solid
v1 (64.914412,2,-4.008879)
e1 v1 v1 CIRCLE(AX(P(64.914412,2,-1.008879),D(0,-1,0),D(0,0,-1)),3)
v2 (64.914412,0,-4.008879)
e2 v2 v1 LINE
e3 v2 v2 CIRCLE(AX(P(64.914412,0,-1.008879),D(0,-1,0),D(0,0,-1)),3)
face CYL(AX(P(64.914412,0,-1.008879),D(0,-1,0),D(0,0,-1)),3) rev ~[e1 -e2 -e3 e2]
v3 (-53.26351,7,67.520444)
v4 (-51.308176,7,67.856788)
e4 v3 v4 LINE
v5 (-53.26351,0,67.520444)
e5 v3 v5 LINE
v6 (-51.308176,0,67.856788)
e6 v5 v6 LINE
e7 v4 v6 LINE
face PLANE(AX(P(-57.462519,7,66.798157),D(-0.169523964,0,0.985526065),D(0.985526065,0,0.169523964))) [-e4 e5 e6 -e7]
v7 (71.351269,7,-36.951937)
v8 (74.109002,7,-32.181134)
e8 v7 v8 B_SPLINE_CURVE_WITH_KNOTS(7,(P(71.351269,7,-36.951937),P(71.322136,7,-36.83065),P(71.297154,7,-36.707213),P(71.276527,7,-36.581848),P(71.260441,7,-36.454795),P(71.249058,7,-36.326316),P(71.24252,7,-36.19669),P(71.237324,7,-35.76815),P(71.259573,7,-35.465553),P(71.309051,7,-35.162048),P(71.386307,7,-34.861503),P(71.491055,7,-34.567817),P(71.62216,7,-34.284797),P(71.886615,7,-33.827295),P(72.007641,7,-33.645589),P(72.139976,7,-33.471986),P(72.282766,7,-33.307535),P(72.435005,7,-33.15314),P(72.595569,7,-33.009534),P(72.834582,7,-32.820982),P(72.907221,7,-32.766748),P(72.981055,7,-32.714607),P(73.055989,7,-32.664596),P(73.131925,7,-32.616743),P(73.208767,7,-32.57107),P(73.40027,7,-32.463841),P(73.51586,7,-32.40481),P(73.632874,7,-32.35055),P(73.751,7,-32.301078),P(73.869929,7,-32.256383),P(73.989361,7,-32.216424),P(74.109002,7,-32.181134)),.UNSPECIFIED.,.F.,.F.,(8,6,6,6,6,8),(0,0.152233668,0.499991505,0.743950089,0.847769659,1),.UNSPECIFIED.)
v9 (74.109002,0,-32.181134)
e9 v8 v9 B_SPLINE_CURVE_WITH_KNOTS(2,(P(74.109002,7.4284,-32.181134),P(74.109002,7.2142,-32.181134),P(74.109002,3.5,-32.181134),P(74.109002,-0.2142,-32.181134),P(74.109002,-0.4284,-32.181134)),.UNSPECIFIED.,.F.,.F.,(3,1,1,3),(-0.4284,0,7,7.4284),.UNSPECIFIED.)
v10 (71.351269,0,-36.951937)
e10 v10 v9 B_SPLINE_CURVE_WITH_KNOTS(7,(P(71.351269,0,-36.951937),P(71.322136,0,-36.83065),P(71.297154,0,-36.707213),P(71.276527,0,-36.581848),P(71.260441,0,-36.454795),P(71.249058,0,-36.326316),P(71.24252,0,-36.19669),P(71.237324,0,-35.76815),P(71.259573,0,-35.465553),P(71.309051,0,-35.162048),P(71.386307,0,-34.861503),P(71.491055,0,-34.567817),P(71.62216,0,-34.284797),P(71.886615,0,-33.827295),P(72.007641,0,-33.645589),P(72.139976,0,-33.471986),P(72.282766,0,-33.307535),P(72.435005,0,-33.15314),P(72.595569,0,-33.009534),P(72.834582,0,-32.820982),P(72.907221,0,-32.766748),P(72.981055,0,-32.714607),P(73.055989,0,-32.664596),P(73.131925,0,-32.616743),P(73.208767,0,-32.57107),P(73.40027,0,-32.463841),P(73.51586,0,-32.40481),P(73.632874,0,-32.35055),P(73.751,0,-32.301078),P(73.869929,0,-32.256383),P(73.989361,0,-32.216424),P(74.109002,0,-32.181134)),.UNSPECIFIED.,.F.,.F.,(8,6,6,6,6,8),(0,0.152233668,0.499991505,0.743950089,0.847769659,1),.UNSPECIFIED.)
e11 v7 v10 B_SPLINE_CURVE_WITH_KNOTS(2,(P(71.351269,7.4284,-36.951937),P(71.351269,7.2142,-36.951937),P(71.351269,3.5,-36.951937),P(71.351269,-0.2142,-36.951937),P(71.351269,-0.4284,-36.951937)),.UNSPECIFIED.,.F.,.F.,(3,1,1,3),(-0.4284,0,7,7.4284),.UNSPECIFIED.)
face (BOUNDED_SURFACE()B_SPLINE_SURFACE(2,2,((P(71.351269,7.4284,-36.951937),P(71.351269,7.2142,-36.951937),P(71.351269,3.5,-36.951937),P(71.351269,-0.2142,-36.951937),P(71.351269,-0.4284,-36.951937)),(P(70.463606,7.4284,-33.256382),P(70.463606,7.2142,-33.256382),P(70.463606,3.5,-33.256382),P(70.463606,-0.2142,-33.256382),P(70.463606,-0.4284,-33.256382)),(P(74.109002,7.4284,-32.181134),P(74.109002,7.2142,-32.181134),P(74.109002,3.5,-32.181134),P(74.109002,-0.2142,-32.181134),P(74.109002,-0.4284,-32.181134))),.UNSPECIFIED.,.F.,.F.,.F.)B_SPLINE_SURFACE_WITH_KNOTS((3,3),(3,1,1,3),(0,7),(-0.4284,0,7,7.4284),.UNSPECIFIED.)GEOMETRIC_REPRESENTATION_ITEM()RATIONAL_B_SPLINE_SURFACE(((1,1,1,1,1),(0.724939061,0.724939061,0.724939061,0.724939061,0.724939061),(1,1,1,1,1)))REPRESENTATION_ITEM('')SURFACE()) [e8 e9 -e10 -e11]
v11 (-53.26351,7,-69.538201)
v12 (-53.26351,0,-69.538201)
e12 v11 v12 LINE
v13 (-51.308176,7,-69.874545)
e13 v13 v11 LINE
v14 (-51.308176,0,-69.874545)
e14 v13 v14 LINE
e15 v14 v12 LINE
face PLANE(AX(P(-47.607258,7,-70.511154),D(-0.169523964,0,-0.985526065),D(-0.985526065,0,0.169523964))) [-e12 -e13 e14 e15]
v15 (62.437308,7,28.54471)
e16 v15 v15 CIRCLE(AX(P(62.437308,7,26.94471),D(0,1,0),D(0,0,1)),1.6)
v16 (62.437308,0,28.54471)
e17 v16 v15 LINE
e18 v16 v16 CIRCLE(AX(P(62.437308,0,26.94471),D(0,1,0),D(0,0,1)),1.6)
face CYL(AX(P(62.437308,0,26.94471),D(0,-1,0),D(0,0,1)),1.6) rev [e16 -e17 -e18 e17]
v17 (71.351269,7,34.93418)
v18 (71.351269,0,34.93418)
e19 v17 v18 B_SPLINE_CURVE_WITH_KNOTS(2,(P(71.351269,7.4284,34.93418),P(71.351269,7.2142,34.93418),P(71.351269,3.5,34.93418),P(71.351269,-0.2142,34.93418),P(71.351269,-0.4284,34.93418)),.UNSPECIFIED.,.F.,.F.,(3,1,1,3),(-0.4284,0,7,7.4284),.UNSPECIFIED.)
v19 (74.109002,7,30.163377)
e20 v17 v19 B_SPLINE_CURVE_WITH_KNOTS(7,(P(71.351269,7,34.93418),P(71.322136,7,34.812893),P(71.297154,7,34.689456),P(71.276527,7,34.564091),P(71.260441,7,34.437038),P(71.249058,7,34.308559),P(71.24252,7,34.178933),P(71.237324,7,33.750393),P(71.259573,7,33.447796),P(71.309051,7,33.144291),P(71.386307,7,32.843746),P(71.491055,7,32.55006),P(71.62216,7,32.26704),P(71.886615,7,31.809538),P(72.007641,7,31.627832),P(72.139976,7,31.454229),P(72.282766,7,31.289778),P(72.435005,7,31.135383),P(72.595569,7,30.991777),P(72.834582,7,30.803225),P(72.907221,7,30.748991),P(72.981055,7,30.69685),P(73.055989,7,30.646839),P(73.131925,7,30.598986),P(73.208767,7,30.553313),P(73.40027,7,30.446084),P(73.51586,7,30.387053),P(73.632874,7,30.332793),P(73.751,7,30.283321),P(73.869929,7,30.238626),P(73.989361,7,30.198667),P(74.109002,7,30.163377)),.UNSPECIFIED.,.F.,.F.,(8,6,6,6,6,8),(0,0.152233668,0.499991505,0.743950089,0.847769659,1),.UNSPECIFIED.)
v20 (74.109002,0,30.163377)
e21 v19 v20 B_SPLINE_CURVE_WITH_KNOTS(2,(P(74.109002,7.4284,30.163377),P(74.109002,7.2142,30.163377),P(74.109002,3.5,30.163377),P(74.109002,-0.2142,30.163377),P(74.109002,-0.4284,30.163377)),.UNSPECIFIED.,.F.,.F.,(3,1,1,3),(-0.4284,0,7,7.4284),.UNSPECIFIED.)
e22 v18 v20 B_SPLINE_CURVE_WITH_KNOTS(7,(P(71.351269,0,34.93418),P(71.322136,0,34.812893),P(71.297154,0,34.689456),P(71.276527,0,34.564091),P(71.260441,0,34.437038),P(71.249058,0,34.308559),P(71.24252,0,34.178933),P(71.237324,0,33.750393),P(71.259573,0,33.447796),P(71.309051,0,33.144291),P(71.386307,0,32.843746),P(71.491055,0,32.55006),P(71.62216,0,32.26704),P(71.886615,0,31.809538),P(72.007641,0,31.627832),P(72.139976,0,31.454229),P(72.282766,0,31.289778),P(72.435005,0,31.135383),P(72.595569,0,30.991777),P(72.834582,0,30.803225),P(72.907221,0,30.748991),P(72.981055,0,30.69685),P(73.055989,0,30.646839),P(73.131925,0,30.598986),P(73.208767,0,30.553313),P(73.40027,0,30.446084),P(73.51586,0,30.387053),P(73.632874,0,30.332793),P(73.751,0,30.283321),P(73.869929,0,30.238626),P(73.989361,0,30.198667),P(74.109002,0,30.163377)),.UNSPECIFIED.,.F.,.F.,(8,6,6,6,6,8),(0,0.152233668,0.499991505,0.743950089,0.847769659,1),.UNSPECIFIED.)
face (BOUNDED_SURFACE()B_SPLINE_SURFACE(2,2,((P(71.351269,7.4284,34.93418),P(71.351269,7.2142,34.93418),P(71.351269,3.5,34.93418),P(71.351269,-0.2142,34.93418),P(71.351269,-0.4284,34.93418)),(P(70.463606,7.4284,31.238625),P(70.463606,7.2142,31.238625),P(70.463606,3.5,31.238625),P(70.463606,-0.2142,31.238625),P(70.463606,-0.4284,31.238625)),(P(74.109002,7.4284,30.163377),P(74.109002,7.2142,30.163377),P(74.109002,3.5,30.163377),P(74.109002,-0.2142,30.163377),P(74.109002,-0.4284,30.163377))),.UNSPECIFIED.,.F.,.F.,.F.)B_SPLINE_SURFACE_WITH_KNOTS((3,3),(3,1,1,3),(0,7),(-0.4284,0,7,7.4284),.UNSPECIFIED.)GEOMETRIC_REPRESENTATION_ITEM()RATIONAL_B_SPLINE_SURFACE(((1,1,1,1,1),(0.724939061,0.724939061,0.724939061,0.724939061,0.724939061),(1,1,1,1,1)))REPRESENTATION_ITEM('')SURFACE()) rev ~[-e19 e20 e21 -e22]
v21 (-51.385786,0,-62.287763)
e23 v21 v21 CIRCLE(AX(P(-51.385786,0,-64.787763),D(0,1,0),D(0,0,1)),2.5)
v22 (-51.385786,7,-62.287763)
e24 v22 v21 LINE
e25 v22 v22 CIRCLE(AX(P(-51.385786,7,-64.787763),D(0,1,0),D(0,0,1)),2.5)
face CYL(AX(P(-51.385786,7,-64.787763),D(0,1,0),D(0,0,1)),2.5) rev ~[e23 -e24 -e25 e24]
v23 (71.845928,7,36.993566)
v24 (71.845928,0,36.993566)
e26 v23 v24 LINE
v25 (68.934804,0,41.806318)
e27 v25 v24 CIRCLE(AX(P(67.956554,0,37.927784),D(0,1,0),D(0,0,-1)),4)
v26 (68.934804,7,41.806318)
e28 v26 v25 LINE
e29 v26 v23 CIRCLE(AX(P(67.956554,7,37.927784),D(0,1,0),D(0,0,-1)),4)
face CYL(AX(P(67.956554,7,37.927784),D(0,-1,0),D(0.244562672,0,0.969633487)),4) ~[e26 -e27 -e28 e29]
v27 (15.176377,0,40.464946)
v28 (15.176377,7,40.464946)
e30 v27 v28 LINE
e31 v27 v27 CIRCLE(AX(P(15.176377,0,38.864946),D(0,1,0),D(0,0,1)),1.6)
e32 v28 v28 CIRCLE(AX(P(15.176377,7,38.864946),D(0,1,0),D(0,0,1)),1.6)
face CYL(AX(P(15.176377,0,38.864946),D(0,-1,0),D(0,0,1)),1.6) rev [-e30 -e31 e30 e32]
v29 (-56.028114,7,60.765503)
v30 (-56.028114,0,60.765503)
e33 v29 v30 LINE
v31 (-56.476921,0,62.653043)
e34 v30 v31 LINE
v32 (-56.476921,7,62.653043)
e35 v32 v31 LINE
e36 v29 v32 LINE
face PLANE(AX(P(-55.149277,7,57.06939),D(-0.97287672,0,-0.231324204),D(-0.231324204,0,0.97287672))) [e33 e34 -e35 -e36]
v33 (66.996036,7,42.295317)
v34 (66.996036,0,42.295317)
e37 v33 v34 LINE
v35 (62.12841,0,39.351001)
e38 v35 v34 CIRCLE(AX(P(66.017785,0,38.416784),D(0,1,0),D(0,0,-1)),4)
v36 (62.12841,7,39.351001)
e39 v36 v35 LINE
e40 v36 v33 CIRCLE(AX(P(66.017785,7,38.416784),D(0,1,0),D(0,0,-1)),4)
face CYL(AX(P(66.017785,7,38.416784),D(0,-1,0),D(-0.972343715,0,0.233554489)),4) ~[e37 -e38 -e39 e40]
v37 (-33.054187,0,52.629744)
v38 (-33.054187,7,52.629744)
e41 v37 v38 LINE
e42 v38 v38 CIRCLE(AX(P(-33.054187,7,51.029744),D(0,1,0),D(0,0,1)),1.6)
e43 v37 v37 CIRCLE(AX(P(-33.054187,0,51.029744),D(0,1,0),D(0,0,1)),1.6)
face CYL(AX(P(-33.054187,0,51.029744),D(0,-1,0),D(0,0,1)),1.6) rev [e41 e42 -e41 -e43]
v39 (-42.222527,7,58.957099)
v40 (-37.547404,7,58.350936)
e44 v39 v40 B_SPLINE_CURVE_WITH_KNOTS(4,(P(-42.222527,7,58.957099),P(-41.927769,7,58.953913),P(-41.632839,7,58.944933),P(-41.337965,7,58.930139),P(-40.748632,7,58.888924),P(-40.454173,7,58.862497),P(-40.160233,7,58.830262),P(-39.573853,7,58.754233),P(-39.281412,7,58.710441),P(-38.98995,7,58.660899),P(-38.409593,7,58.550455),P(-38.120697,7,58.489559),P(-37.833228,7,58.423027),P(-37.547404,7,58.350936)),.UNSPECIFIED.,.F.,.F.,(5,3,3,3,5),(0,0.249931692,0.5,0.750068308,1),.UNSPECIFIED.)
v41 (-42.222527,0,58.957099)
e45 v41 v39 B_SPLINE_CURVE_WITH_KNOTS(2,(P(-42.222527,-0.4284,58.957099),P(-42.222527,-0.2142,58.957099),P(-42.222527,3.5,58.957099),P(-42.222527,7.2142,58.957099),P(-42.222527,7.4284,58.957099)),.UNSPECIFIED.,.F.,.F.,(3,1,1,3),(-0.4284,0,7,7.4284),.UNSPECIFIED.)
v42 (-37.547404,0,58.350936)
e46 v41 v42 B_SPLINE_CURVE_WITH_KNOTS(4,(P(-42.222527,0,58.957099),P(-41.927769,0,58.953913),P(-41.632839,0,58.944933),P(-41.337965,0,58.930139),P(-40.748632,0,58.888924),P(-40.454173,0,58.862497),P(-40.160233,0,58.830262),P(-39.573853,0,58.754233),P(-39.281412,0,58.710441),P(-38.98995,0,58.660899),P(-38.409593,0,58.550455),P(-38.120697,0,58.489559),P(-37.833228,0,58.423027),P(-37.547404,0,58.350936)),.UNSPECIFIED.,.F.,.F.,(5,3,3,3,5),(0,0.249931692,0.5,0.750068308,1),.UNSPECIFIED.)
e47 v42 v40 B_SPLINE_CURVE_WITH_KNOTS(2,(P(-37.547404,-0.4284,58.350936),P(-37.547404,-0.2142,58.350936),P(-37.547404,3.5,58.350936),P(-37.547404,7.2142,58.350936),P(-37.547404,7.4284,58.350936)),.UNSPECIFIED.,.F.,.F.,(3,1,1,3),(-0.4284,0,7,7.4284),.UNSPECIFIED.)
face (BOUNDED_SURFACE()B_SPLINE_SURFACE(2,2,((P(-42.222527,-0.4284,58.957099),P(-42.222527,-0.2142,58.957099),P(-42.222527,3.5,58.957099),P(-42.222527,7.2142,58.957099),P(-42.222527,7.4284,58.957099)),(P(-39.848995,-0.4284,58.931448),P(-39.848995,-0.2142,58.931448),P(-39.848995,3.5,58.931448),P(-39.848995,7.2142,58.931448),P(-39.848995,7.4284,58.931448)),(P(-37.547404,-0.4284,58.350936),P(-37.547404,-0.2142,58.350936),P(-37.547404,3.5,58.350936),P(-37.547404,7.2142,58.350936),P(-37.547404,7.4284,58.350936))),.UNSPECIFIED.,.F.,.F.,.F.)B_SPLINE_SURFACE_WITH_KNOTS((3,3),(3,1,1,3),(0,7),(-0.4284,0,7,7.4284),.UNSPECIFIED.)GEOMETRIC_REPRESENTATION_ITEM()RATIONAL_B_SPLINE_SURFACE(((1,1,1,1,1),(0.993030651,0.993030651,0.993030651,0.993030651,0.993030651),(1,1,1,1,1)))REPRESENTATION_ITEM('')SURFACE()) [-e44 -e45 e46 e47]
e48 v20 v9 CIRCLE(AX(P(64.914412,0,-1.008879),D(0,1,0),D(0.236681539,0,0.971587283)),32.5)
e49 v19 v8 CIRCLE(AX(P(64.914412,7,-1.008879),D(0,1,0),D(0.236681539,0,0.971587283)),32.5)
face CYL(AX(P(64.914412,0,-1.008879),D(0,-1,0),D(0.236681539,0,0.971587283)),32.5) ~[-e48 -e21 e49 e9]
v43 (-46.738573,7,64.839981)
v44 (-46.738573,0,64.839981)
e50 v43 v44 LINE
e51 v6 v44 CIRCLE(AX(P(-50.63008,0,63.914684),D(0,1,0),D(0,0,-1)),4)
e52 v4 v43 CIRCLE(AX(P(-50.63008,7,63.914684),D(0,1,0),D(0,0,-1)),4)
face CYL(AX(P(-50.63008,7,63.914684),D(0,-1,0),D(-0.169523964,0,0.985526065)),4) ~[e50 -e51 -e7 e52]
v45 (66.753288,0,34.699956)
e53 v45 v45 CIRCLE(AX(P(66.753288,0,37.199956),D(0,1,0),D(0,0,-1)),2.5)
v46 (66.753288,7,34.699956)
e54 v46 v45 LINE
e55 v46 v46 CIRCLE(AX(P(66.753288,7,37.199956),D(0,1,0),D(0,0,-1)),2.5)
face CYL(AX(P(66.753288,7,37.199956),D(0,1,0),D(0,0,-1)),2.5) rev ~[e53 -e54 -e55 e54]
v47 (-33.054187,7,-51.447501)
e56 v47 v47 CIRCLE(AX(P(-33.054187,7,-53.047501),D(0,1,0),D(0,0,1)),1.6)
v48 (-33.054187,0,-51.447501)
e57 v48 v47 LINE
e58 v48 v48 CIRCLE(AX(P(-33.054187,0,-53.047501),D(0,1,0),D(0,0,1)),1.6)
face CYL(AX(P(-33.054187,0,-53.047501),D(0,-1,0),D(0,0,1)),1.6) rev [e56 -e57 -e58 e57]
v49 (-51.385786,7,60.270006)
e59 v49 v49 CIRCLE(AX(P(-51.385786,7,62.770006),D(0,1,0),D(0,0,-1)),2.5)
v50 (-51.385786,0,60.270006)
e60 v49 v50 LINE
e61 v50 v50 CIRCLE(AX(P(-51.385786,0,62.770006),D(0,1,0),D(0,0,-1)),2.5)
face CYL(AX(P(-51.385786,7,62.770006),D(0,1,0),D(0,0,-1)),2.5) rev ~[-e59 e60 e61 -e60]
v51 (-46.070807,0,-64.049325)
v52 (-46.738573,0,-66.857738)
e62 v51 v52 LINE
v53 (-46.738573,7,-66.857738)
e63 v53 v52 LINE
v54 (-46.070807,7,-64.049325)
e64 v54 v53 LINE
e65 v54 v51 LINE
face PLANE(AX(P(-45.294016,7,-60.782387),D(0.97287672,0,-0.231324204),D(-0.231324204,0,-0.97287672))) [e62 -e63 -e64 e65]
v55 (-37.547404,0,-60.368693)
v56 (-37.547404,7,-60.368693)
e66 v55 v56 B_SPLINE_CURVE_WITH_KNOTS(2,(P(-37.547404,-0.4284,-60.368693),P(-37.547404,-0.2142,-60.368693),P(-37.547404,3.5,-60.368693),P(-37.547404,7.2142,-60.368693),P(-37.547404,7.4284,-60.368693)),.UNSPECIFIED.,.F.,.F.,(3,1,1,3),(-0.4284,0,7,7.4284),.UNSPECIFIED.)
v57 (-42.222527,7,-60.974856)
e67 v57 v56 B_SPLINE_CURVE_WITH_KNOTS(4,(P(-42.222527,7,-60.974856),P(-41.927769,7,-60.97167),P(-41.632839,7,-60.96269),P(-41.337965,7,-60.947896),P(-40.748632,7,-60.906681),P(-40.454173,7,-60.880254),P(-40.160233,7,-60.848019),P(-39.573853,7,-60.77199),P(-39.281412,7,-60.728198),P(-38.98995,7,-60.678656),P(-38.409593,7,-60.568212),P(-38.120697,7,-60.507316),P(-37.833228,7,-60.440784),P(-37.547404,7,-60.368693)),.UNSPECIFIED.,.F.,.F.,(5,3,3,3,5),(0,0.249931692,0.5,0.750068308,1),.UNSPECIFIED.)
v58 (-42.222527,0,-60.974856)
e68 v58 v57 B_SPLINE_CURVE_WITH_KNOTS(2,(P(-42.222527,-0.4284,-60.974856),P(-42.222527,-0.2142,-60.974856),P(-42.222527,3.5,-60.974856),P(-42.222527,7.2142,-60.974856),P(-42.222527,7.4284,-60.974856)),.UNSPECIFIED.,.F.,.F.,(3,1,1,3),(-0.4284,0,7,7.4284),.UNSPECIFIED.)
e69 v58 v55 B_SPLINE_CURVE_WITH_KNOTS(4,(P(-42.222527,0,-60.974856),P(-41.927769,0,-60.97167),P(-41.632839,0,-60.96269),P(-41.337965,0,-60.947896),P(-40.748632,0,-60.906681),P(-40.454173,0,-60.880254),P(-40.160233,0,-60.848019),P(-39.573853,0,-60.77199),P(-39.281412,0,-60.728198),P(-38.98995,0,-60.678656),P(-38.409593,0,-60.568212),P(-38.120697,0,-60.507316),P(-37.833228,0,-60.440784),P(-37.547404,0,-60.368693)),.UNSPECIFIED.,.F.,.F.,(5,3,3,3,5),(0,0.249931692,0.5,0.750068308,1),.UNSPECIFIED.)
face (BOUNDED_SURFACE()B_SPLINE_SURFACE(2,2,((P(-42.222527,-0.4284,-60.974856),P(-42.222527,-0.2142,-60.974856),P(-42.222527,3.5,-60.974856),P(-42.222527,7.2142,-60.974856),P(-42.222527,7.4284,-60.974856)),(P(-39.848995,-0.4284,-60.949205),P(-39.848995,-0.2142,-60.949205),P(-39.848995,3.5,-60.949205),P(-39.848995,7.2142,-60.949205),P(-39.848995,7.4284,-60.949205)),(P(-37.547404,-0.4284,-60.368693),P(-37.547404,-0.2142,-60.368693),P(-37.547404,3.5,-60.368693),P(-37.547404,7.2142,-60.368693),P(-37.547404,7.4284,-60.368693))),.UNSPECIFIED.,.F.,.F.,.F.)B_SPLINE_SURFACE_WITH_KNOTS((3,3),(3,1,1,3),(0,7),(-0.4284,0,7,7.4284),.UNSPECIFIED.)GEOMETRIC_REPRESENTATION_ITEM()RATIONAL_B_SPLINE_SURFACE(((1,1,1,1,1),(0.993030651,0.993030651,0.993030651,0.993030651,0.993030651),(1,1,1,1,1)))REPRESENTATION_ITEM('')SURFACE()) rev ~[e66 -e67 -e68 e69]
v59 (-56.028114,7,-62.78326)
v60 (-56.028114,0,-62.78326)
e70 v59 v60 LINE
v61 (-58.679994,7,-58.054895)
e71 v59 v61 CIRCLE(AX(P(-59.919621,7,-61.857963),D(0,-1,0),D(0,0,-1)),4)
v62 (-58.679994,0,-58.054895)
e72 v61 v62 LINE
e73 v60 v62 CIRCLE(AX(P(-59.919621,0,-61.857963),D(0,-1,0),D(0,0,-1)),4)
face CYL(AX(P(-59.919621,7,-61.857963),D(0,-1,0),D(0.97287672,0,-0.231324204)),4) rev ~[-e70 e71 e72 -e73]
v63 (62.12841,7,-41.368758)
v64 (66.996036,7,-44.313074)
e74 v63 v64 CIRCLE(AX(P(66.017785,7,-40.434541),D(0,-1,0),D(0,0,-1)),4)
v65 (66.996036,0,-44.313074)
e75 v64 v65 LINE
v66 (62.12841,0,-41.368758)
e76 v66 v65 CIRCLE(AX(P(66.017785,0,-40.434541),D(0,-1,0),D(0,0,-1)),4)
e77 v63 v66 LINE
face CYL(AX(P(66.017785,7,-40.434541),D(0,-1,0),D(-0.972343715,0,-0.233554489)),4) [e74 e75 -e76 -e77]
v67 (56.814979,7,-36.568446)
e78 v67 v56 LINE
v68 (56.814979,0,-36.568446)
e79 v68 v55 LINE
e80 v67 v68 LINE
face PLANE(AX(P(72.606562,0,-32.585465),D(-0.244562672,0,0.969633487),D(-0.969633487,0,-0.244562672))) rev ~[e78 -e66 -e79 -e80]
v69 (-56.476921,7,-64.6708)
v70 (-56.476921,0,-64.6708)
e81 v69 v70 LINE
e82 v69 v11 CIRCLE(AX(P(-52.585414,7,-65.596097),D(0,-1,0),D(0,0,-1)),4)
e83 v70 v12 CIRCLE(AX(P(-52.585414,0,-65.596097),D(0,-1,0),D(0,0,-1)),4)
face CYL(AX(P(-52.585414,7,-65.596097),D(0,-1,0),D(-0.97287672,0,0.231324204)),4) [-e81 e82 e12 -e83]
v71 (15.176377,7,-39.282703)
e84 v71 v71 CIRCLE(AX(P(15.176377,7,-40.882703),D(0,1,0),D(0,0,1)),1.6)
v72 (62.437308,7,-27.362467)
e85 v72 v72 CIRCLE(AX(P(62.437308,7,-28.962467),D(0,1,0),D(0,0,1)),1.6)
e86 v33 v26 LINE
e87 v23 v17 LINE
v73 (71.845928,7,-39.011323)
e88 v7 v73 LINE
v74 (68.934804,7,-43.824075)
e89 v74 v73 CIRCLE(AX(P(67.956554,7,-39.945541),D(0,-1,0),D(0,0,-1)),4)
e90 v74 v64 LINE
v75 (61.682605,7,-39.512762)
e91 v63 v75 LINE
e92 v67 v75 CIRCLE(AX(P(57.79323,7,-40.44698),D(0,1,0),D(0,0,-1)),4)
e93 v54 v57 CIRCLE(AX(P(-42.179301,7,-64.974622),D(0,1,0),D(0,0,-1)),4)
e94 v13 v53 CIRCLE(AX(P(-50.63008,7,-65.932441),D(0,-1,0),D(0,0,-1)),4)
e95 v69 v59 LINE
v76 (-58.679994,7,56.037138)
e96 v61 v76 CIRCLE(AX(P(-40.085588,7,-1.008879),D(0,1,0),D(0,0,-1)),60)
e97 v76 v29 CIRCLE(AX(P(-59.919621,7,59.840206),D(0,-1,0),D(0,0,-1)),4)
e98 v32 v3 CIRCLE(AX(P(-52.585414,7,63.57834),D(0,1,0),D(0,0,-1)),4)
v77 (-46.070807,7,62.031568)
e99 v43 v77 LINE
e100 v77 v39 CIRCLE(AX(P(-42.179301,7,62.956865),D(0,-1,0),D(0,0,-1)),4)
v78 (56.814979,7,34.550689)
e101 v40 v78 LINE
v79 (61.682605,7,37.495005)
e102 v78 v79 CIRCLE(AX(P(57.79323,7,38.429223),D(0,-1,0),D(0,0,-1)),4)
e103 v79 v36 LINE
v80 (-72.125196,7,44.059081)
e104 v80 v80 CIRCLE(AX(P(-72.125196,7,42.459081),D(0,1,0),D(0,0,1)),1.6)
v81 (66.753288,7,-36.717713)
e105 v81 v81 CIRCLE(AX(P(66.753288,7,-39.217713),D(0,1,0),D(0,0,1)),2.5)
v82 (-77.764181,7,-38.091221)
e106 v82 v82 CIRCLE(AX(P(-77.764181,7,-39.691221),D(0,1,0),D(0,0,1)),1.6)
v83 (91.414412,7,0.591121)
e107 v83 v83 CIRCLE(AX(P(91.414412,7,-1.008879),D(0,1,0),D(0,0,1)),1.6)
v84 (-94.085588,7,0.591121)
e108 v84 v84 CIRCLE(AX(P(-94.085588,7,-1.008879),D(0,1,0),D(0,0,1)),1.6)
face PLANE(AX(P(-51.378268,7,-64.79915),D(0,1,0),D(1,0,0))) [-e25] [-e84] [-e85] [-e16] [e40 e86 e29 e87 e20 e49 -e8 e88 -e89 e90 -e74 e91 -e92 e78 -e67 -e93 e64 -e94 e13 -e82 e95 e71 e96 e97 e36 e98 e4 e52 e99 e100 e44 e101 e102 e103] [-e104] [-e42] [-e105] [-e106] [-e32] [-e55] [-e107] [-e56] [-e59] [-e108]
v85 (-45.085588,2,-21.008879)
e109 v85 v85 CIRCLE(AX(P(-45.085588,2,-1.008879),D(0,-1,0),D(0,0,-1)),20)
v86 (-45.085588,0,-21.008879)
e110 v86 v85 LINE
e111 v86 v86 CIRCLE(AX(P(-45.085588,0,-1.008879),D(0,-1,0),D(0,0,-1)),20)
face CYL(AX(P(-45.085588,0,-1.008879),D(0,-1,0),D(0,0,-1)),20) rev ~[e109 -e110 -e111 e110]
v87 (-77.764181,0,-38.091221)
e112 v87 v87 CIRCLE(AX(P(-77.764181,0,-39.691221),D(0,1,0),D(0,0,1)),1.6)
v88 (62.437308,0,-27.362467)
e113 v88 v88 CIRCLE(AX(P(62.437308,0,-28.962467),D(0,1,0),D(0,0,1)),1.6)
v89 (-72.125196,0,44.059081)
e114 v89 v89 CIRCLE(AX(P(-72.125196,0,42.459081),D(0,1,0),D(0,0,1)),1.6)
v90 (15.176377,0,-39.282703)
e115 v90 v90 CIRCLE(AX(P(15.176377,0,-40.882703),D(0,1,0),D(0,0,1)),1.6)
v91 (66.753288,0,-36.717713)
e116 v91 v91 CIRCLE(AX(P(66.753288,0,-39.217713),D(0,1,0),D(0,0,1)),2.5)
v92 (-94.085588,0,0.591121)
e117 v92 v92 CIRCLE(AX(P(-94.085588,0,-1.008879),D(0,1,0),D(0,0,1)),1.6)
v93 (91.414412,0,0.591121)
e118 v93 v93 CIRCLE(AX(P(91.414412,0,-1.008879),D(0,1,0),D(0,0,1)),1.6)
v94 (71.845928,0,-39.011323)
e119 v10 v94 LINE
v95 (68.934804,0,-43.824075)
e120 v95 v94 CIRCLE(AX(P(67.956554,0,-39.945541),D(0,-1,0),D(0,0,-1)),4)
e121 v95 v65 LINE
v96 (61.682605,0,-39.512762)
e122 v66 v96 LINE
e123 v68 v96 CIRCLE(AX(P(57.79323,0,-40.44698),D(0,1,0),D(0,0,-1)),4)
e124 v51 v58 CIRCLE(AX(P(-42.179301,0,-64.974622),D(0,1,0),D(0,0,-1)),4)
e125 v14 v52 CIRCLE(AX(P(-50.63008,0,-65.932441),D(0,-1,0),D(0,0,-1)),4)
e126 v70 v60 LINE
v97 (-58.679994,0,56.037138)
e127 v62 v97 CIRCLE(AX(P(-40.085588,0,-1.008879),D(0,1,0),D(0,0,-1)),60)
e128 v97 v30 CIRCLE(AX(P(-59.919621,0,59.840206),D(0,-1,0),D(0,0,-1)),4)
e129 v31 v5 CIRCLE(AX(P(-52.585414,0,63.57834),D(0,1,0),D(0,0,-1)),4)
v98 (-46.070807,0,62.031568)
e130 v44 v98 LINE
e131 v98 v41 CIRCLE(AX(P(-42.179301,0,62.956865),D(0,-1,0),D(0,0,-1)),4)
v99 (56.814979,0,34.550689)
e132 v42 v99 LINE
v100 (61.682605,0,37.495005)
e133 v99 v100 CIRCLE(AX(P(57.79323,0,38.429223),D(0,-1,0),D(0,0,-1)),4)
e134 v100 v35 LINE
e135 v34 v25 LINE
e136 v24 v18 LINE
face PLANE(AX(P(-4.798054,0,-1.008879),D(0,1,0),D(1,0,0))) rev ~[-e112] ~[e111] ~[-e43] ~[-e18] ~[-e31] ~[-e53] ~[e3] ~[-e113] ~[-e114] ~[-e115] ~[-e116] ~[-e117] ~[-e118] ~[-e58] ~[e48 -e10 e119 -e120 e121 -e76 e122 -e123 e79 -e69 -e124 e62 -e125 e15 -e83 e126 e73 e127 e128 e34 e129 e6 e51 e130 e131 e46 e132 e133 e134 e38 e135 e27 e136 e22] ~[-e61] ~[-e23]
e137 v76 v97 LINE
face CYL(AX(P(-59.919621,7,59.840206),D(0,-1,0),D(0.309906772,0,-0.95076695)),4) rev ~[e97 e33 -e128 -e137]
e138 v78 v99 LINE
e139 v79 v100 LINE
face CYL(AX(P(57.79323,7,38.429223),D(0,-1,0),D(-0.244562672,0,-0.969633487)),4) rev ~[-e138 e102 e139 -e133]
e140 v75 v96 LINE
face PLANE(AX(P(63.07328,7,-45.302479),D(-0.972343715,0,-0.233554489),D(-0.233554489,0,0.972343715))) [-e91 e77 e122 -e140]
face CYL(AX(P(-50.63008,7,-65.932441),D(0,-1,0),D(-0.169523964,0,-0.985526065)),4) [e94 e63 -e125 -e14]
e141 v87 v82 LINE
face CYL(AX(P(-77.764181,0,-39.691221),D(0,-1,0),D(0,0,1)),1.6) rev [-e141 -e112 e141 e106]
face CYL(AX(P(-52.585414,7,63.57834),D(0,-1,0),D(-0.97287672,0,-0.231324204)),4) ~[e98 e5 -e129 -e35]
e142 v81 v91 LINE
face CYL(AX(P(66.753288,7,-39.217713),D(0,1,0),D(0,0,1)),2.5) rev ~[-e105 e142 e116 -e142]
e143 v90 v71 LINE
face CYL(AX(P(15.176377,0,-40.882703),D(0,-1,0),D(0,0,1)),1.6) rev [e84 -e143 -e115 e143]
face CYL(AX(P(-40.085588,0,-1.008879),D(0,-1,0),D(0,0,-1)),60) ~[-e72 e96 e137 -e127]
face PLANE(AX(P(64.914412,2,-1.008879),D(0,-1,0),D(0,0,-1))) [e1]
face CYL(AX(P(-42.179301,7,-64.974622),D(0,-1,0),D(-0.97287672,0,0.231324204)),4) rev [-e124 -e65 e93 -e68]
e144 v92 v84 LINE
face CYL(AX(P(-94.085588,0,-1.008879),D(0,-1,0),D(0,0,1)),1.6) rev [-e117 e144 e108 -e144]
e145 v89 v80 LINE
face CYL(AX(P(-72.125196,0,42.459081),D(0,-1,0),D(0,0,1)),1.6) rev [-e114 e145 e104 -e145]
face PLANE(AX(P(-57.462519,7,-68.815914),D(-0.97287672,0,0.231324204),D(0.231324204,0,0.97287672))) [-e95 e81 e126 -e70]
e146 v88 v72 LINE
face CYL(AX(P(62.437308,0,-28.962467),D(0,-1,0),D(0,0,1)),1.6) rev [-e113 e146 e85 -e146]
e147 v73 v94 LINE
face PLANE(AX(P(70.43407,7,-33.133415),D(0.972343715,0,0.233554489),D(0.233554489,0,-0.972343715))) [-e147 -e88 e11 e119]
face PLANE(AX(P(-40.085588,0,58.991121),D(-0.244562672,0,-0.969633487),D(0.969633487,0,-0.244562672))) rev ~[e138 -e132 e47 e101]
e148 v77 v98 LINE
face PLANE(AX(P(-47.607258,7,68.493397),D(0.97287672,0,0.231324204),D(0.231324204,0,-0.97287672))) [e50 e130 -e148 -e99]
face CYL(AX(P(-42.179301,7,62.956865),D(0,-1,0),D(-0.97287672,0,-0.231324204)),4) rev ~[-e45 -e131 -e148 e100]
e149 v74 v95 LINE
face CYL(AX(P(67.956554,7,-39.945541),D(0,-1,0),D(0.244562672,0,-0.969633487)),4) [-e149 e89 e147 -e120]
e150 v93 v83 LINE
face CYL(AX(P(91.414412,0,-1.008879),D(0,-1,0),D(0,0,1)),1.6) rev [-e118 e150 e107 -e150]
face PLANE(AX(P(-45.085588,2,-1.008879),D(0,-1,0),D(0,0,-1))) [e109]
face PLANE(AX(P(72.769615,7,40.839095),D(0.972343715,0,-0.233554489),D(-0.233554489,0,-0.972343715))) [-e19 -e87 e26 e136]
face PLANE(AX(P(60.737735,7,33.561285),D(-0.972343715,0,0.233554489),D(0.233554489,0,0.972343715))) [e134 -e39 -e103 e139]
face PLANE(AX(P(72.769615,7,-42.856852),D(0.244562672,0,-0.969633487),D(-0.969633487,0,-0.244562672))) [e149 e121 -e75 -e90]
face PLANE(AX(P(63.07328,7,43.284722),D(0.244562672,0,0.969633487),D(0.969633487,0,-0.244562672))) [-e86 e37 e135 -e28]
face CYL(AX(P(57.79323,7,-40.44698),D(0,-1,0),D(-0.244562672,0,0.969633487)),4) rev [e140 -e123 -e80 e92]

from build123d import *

# Parameters (mm, degrees)
SKETCH1_R           = 1.6
BOSS_EXTRUDE1_DEPTH = 7
BOSS_EXTRUDE2_DEPTH = 7
SKETCH3_R           = 2.5
CUT_EXTRUDE1_DEPTH  = 7
FILLET1_R           = 4
FILLET2_R           = 20
SKETCH5_R           = 20
SKETCH5_R_2         = 3
CUT_EXTRUDE3_DEPTH  = 2


with BuildPart() as part:
    # Sketch1 → Boss-Extrude1 (new body)
    with BuildSketch(Plane(origin=(0, 0, 0), x_dir=(1, 0, 0), z_dir=(0, 1, 0))):
        with BuildLine():
            Line((-40.085587865, -58.991121495), (72.606562154, -30.567708203))
            ThreePointArc((72.606562154, -30.567708203), (97.414412135, 1.008878505), (72.606562154, 32.585465212))
            Line((72.606562154, 32.585465212), (-40.085587865, 61.008878505))
            ThreePointArc((-40.085587865, 61.008878505), (-100.085587865, 1.008878505), (-40.085587865, -58.991121495))
        make_face()
        with Locations(Location((15.176377483, -38.864945804, 0), (0, 0, 270))):
            Circle(SKETCH1_R, mode=Mode.SUBTRACT)
        with Locations(Location((-33.054187001, -51.02974404, 0), (0, 0, 270))):
            Circle(SKETCH1_R, mode=Mode.SUBTRACT)
        with Locations(Location((62.43730848, -26.944710242, 0), (0, 0, 270))):
            Circle(SKETCH1_R, mode=Mode.SUBTRACT)
        with Locations(Location((91.414412135, 1.008878505, 0), (0, 0, 270))):
            Circle(SKETCH1_R, mode=Mode.SUBTRACT)
        with Locations(Location((-33.054187001, 53.047501049, 0), (0, 0, 270))):
            Circle(SKETCH1_R, mode=Mode.SUBTRACT)
        with Locations(Location((15.176377483, 40.882702814, 0), (0, 0, 270))):
            Circle(SKETCH1_R, mode=Mode.SUBTRACT)
        with Locations(Location((62.43730848, 28.962467251, 0), (0, 0, 270))):
            Circle(SKETCH1_R, mode=Mode.SUBTRACT)
        with Locations(Location((-94.085587865, 1.008878505, 0), (0, 0, 270))):
            Circle(SKETCH1_R, mode=Mode.SUBTRACT)
        with Locations(Location((-72.125195915, -42.459081144, 0), (0, 0, 270))):
            Circle(SKETCH1_R, mode=Mode.SUBTRACT)
        with Locations(Location((-77.764180777, 39.691221197, 0), (0, 0, 270))):
            Circle(SKETCH1_R, mode=Mode.SUBTRACT)
    extrude(amount=BOSS_EXTRUDE1_DEPTH)

    # Sketch2 → Boss-Extrude2 (add)
    with BuildSketch(Plane(origin=(0, 7, 0), x_dir=(1, 0, 0), z_dir=(0, 1, 0))):
        Polygon((-55.149276996, 59.087146986), (-45.294016341, 60.782386623), (-47.607258378, 70.511153826), (-57.462519032, 68.815914188), align=None)
        Polygon((60.73773507, 35.579041761), (70.434069941, 33.133415038), (72.769614826, 42.856852192), (63.073279955, 45.302478915), align=None)
        Polygon((63.073279955, -43.284721905), (72.769614826, -40.839095183), (70.434069941, -31.115658029), (60.73773507, -33.561284751), align=None)
        Polygon((-57.462519032, -66.798157179), (-47.607258378, -68.493396816), (-45.294016341, -58.764629614), (-55.149276996, -57.069389977), align=None)
    extrude(amount=-BOSS_EXTRUDE2_DEPTH)

    # Sketch3 → Cut-Extrude1 (cut)
    with BuildSketch(Plane(origin=(0, 7, 0), x_dir=(1, 0, 0), z_dir=(0, 1, 0))):
        with Locations(Location((-51.385785587, 64.787762931, 0), (0, 0, 270))):
            Circle(SKETCH3_R)
        with Locations(Location((66.753288323, 39.217713116, 0), (0, 0, 270))):
            Circle(SKETCH3_R)
        with Locations(Location((66.753288323, -37.199956106, 0), (0, 0, 90))):
            Circle(SKETCH3_R)
        with Locations(Location((-51.385785587, -62.770005922, 0), (0, 0, 90))):
            Circle(SKETCH3_R)
    extrude(amount=-CUT_EXTRUDE1_DEPTH, mode=Mode.SUBTRACT)

    # Fillet1
    fillet1_edges = [part.edges().sort_by_distance(p)[0] for p in [
        (-55.149276996, 3.5, 57.069389977),
        (-57.462519032, 3.5, 66.798157179),
        (-47.607258378, 3.5, 68.493396816),
        (-45.294016341, 3.5, 58.764629614),
        (70.434069941, 3.5, 31.115658029),
        (72.769614826, 3.5, 40.839095183),
        (63.073279955, 3.5, 43.284721905),
        (60.73773507, 3.5, 33.561284751),
        (60.73773507, 3.5, -35.579041761),
        (63.073279955, 3.5, -45.302478915),
        (72.769614826, 3.5, -42.856852192),
        (70.434069941, 3.5, -33.133415038),
        (-45.294016341, 3.5, -60.782386623),
        (-55.149276996, 3.5, -59.087146986),
        (-47.607258378, 3.5, -70.511153826),
        (-57.462519032, 3.5, -68.815914188),
    ]]
    fillet(fillet1_edges, radius=FILLET1_R)

    # Fillet2
    fillet2_edges = [part.edges().sort_by_distance(p)[0] for p in [
        (-40.085587865, 3.5, 58.991121495),
        (-40.085587865, 3.5, -61.008878505),
    ]]
    fillet(fillet2_edges, radius=FILLET2_R)

    # Sketch5 → Cut-Extrude3 (cut)
    with BuildSketch(Plane.XZ):
        with Locations(Location((-45.085587865, -1.008878505, 0), (0, 0, 270))):
            Circle(SKETCH5_R)
        with Locations(Location((64.914412135, -1.008878505, 0), (0, 0, 270))):
            Circle(SKETCH5_R_2)
    extrude(amount=-CUT_EXTRUDE3_DEPTH, mode=Mode.SUBTRACT)


solid = part.part
